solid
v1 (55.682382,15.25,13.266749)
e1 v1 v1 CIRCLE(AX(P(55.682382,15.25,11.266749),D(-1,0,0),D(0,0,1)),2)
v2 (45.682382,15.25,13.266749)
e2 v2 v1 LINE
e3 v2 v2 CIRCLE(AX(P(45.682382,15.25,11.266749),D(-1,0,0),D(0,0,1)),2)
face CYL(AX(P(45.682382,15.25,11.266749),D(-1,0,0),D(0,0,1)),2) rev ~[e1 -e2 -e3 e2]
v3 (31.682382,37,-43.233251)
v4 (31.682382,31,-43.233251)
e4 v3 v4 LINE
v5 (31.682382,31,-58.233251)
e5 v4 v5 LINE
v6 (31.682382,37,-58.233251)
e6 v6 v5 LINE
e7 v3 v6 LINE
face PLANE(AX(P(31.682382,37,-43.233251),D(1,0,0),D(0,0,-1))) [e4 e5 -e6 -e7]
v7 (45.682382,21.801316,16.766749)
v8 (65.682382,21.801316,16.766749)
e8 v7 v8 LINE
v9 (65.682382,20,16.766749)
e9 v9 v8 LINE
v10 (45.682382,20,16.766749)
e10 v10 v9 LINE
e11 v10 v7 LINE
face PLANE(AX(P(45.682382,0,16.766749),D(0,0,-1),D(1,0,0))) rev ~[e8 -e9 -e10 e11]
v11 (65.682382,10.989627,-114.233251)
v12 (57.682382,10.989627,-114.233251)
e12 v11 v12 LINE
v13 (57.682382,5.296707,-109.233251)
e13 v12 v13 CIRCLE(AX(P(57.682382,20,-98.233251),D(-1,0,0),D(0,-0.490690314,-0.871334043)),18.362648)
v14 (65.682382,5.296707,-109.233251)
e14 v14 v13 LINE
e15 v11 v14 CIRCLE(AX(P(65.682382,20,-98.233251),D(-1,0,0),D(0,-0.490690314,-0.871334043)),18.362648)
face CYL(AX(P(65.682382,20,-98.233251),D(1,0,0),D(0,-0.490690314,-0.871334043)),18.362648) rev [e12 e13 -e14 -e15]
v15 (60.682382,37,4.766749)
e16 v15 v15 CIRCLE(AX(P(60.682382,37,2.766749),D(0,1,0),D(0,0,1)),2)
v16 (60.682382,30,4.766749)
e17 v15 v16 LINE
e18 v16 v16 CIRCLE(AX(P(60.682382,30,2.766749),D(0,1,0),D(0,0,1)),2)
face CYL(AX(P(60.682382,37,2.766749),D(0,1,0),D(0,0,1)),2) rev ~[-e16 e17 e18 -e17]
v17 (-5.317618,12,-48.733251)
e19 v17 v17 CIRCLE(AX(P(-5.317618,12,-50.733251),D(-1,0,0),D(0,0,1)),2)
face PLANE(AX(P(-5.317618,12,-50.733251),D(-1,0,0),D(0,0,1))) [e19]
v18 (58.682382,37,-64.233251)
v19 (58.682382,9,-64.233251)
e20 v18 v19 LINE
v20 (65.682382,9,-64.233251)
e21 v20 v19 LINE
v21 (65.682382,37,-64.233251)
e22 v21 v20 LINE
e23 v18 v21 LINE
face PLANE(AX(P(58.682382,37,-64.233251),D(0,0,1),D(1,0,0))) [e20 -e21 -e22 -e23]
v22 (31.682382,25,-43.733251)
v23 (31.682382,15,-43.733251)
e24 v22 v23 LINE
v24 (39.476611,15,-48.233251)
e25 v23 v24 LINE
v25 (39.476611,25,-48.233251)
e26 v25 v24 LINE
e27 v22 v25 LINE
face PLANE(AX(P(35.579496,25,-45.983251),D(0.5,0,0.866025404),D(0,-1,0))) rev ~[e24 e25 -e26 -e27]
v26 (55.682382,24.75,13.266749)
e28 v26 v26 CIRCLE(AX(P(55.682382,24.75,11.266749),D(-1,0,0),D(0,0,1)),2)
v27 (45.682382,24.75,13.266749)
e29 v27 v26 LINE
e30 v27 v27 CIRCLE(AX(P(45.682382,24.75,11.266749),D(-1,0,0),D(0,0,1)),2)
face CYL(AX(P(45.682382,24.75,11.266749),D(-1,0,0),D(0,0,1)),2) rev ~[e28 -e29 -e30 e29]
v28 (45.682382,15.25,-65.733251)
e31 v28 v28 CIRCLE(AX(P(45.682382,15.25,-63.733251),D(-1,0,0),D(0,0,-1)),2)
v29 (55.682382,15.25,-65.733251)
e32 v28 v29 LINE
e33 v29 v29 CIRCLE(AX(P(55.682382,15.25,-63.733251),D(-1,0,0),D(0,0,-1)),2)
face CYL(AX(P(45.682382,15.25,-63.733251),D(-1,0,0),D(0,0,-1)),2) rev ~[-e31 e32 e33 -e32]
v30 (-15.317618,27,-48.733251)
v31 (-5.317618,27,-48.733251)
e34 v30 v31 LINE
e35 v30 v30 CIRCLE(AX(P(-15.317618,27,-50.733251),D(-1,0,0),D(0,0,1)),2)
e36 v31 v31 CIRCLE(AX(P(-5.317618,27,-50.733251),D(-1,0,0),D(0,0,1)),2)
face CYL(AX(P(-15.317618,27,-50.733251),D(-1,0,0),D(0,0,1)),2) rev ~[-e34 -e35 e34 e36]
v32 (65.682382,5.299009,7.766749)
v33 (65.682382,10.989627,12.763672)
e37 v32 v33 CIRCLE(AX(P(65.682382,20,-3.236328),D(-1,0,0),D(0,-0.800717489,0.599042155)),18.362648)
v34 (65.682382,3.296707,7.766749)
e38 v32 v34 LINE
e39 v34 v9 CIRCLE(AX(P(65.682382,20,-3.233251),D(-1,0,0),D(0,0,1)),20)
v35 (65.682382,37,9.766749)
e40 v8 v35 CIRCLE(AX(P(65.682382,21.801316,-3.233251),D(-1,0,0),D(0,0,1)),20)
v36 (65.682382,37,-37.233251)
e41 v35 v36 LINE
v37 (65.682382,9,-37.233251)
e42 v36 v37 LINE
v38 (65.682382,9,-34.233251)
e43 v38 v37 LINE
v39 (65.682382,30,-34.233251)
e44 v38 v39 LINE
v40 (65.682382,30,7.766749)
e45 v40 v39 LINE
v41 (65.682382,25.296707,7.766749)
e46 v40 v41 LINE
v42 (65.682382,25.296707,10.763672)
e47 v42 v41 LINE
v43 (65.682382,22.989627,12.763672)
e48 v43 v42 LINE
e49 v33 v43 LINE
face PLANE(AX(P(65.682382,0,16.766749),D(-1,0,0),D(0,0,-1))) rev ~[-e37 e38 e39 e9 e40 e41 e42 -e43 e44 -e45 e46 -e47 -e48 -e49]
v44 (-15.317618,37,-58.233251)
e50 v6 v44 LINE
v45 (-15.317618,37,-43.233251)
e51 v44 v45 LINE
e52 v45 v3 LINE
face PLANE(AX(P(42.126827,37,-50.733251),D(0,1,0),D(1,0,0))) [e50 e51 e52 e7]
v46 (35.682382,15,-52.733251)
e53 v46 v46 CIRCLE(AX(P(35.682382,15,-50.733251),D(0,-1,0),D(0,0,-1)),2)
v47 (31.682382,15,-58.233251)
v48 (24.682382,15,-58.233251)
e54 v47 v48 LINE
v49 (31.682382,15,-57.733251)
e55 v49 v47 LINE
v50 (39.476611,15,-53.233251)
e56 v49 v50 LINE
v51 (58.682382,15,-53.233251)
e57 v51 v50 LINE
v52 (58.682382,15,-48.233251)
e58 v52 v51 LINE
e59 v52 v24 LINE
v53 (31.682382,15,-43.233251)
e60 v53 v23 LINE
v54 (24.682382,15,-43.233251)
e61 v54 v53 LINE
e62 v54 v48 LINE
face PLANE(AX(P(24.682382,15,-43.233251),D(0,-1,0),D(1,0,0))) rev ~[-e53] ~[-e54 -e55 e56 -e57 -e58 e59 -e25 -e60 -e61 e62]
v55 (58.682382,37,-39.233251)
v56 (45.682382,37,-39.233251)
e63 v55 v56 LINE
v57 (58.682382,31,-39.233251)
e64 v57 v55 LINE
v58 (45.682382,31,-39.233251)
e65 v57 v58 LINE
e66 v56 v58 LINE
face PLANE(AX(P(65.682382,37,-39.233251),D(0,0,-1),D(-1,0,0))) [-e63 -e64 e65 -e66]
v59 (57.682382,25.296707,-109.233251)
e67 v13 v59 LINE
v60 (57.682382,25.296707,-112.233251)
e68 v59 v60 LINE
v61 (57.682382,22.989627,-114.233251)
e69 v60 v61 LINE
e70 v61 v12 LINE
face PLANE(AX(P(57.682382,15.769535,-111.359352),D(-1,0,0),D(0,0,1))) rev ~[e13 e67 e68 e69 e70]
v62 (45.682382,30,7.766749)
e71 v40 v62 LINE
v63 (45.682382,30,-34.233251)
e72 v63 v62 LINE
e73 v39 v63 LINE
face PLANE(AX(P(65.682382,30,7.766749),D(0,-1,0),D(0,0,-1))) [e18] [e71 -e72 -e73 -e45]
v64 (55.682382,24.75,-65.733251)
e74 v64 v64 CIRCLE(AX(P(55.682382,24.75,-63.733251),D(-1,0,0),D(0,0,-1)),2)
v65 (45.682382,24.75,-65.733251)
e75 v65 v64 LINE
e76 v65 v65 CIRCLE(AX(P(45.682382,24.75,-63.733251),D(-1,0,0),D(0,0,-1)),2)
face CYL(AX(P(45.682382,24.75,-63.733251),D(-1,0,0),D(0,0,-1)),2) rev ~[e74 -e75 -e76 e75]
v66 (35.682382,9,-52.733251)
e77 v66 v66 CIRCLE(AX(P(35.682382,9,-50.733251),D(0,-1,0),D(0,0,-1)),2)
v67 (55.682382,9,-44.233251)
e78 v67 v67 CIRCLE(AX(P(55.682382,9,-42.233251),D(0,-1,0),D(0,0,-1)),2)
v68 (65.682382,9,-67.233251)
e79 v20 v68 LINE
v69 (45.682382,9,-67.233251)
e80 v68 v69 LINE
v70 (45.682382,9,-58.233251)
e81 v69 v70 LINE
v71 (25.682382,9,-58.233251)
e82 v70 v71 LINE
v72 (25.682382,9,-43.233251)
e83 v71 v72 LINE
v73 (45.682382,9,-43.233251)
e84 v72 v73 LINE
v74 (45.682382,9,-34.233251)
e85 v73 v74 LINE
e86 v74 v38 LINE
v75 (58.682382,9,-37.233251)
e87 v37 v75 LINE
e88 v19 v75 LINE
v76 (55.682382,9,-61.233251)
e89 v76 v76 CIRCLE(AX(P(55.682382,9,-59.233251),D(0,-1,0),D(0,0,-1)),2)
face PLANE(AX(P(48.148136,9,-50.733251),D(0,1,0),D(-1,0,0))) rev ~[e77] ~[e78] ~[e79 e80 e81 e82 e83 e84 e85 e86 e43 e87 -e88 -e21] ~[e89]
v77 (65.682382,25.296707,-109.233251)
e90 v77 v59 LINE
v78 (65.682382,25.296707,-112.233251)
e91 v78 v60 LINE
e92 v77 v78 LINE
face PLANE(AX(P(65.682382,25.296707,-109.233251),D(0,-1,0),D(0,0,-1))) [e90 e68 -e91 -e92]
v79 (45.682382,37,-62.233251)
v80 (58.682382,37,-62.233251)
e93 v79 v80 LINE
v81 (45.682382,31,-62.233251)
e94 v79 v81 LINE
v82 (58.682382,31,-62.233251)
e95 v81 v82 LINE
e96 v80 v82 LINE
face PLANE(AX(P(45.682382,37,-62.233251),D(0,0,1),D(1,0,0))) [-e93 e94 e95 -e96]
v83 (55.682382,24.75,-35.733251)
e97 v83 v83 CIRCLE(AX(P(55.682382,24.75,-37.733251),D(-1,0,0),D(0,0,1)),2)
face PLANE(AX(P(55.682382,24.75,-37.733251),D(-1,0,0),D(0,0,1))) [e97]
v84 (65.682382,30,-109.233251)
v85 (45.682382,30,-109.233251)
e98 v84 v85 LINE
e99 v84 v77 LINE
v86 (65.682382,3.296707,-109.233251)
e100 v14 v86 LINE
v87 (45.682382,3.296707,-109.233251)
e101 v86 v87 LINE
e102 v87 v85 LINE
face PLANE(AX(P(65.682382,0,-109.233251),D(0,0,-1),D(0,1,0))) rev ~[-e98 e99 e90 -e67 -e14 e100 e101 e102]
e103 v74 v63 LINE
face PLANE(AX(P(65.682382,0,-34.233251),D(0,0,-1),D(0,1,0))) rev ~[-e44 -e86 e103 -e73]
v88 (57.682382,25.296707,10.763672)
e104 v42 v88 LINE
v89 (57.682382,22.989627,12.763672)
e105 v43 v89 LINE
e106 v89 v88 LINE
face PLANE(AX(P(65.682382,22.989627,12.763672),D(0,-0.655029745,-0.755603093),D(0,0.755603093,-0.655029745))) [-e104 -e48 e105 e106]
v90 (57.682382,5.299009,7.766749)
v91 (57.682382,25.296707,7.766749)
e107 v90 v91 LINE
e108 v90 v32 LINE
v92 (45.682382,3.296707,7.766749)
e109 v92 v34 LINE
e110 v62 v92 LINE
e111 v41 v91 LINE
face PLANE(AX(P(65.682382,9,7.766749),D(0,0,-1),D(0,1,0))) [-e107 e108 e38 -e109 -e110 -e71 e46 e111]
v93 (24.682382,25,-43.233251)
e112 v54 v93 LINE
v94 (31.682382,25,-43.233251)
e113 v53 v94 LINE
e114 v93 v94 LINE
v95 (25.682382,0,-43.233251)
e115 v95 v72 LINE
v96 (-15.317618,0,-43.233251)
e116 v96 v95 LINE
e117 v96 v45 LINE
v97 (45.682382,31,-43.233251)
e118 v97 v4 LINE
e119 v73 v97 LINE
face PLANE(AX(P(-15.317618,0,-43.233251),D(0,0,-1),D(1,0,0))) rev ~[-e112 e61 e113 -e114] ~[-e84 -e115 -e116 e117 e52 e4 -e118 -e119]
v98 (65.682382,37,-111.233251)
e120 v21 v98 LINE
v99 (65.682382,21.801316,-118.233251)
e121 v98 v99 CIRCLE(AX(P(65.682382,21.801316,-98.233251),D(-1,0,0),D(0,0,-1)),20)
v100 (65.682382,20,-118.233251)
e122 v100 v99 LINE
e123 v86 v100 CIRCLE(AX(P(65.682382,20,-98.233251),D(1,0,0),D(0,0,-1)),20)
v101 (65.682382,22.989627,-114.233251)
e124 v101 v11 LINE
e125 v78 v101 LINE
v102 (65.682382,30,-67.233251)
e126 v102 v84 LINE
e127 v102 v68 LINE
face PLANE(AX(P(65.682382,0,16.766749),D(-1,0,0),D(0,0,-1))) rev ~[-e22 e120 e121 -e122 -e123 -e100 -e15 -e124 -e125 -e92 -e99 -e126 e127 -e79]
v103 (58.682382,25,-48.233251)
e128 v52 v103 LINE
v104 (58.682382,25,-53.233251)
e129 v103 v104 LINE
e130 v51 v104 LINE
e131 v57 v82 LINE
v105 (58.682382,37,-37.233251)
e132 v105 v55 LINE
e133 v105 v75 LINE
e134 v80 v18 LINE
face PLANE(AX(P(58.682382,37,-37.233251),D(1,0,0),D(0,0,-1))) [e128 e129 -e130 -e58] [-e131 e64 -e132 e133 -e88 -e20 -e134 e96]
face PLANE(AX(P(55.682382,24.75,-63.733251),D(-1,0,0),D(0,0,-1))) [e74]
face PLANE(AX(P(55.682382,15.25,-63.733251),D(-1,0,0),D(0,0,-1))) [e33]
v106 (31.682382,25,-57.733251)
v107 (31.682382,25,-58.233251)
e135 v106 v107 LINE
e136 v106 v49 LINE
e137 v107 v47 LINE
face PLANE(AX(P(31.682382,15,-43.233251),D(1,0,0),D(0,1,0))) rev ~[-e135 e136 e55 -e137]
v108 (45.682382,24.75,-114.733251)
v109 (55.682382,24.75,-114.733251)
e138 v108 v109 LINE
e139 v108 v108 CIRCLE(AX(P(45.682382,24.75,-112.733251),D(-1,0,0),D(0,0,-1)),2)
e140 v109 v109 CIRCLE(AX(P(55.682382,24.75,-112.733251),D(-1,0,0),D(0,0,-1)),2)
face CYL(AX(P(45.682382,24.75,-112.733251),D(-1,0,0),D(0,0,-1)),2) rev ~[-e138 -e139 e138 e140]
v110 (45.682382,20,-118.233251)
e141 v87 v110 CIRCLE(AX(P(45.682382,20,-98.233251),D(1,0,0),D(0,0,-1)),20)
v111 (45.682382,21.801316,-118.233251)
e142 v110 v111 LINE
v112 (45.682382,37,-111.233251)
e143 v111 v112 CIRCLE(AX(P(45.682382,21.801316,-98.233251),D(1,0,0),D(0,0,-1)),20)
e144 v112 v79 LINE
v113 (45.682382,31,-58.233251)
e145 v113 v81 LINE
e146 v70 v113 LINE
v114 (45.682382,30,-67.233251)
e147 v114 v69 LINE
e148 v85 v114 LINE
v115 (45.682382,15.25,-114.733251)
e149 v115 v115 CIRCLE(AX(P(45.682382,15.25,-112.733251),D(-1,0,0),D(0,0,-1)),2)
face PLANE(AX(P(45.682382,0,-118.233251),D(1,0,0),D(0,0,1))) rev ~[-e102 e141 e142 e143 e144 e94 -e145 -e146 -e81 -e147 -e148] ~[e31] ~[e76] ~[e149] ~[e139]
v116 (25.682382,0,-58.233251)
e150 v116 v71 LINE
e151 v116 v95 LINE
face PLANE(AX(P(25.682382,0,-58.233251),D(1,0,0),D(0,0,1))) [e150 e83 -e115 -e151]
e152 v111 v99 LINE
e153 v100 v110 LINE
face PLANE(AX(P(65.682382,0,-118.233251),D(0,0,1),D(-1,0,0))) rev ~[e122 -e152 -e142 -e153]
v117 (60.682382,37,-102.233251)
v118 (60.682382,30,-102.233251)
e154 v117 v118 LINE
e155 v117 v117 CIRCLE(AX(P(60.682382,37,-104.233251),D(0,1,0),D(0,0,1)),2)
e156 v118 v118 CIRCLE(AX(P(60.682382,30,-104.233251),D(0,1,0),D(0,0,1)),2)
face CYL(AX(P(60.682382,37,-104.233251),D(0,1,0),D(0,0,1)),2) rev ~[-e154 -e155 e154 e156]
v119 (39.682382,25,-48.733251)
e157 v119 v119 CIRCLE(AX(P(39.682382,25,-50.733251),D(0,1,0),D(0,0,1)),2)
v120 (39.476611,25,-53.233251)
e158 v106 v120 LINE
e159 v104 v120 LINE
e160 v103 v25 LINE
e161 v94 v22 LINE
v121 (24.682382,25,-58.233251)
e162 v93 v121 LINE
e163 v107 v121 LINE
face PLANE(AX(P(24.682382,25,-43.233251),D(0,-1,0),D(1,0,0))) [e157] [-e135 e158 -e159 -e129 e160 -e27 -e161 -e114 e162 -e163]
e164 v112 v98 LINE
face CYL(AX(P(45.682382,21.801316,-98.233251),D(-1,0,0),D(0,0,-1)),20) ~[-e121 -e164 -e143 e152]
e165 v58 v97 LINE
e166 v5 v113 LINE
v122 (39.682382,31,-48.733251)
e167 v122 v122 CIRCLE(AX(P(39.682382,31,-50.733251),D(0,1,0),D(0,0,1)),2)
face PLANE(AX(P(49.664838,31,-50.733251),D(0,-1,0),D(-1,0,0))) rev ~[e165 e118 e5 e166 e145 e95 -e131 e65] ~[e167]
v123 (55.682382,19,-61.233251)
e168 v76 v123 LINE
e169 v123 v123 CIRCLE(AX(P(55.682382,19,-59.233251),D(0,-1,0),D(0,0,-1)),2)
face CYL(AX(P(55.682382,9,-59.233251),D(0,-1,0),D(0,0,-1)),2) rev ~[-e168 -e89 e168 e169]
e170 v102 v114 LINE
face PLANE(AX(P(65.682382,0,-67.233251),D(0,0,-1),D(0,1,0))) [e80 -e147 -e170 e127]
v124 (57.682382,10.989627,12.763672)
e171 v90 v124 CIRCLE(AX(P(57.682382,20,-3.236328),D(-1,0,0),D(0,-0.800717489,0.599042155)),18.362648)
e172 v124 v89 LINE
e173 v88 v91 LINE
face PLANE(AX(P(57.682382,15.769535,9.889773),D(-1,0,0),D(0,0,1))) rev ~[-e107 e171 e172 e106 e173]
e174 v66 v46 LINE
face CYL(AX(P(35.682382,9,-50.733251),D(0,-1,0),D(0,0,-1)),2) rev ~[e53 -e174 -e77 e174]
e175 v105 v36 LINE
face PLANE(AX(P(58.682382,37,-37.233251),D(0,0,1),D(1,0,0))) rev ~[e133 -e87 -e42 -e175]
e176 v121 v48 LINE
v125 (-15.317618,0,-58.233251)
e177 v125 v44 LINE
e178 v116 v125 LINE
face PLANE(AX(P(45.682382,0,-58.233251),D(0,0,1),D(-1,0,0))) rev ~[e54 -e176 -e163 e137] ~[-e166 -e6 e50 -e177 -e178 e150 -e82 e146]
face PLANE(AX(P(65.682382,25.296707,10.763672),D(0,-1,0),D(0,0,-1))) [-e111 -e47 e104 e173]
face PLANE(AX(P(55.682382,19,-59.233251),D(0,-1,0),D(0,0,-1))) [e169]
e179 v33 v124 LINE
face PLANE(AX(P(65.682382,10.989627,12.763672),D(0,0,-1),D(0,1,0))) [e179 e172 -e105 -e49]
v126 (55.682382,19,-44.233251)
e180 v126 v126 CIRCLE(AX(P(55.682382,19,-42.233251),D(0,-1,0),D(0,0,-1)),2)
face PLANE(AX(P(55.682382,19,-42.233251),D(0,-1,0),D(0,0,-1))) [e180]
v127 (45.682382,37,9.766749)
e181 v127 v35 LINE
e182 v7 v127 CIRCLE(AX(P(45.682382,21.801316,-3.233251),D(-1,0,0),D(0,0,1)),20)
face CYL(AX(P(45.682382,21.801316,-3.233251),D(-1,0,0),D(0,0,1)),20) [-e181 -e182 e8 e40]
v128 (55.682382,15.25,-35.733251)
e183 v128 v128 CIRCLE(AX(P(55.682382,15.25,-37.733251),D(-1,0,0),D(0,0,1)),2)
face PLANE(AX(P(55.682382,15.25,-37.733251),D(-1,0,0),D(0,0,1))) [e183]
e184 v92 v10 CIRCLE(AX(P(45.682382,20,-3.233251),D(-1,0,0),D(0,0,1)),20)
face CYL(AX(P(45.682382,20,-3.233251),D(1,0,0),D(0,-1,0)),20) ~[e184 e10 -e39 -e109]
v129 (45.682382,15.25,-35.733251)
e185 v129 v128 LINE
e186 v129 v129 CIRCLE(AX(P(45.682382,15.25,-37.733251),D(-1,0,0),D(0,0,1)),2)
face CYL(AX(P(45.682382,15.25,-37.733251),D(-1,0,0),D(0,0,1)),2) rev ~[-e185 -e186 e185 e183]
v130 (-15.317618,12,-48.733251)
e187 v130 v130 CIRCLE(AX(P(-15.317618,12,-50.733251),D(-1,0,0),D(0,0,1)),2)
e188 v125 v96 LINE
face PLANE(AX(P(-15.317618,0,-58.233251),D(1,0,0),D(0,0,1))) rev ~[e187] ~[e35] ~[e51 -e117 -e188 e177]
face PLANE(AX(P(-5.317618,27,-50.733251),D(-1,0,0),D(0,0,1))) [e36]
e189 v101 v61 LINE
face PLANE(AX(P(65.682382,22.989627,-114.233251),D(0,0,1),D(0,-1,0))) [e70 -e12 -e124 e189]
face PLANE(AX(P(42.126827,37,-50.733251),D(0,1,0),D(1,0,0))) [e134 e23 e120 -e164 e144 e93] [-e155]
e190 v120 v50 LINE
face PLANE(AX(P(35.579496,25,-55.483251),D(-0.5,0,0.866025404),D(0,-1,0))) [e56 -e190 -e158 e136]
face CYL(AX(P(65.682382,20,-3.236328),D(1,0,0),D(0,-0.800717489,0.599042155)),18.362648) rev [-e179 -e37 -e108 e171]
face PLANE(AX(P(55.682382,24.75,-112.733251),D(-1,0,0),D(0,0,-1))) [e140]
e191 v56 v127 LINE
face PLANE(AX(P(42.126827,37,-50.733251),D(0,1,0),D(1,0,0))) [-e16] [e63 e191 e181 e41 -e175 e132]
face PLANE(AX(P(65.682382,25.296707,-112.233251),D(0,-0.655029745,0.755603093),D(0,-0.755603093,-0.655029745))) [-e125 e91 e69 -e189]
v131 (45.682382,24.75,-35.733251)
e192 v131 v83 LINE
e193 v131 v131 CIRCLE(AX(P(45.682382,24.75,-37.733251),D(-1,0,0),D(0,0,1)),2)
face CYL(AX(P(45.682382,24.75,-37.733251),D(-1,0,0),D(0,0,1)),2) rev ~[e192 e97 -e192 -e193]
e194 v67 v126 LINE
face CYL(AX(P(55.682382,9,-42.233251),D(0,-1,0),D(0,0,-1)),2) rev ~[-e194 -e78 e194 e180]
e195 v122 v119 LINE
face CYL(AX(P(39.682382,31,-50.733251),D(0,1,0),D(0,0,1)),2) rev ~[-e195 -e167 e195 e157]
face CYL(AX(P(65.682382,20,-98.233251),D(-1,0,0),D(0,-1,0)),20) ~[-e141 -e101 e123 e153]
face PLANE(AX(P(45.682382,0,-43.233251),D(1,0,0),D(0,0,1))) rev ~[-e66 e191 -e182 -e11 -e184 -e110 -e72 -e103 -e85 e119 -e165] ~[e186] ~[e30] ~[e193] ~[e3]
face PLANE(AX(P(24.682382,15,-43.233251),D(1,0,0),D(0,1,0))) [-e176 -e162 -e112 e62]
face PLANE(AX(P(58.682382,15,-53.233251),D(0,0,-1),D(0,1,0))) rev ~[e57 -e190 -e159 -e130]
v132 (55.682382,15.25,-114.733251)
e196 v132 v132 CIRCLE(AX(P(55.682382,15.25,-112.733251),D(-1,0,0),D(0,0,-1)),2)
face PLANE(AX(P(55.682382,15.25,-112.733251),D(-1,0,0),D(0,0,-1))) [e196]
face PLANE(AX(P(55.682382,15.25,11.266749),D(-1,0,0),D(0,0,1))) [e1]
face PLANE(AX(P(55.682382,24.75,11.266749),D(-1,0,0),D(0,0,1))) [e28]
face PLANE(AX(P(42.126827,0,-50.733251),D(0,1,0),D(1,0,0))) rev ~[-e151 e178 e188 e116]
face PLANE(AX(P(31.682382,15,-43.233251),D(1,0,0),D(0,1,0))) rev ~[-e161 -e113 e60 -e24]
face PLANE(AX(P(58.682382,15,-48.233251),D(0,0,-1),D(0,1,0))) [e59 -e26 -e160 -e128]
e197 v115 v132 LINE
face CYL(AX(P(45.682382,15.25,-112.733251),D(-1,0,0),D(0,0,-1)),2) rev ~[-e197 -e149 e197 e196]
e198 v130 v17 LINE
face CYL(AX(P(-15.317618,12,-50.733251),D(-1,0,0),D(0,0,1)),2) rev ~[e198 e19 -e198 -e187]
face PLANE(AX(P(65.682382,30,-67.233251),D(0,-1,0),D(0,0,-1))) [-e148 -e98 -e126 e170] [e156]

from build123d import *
from OCP.BRepFilletAPI import BRepFilletAPI_MakeChamfer

# Parameters (mm, degrees)
BOSS_EXTRUDE1_DEPTH = 37
CUT_EXTRUDE1_REACH  = 150.017
SKETCH2_W           = 42
SKETCH2_H           = 21
SKETCH3_R           = 2
CUT_EXTRUDE2_DEPTH  = 10
FILLET1_R           = 20
CUT_EXTRUDE5_REACH  = 150.017
SKETCH6_W           = 42
SKETCH6_H           = 9
SKETCH7_R           = 2
CUT_EXTRUDE6_DEPTH  = 10
CUT_EXTRUDE7_DEPTH  = 9
SKETCH9_R           = 2
CUT_EXTRUDE8_DEPTH  = 10
CUT_EXTRUDE9_DEPTH  = 6
SKETCH11_R          = 2
CUT_EXTRUDE10_DEPTH = 9
SKETCH12_R          = 2
CUT_EXTRUDE11_DEPTH = 10
CUT_EXTRUDE12_REACH = 140.091
CUT_EXTRUDE16_REACH = 142.222
SKETCH14_W          = 7
SKETCH14_H          = 27
CUT_EXTRUDE17_REACH = 108.34
SKETCH16_W          = 7
SKETCH16_H          = 10
CUT_EXTRUDE18_REACH = 146.306
SKETCH15_W          = 5
SKETCH15_H          = 10
CHAMFER1_SIZE       = 4.5
CHAMFER1_SIZE2      = 7.794228634
CUT_EXTRUDE19_DEPTH = 8


with BuildPart() as part:
    # Sketch1 → Boss-Extrude1 (new body)
    with BuildSketch(Plane(origin=(0, 0, 0), x_dir=(1, 0, 0), z_dir=(0, 1, 0))):
        Polygon((-15.317617866, 43.23325062), (45.682382134, 43.23325062), (45.682382134, -16.76674938), (65.682382134, -16.76674938), (65.682382134, 118.23325062), (45.682382134, 118.23325062), (45.682382134, 58.23325062), (-15.317617866, 58.23325062), align=None)
    extrude(amount=BOSS_EXTRUDE1_DEPTH)

    # Sketch2 → Cut-Extrude1 (cut, up to next)
    with BuildSketch(Plane(origin=(65.682382134, 0, 0), x_dir=(0, 0, -1), z_dir=(1, 0, 0)), mode=Mode.PRIVATE) as cut_extrude1_sk1:
        with Locations((13.23325062, 19.5)):
            Rectangle(SKETCH2_W, SKETCH2_H)
    cut_extrude1_tool1 = extrude(cut_extrude1_sk1.sketch, amount=-CUT_EXTRUDE1_REACH, mode=Mode.PRIVATE) & part.part
    # Sketch2 → Cut-Extrude1 (cut, up to next)
    with BuildSketch(Plane(origin=(65.682382134, 0, 0), x_dir=(0, 0, -1), z_dir=(1, 0, 0)), mode=Mode.PRIVATE) as cut_extrude1_sk2:
        with Locations((88.23325062, 19.5)):
            Rectangle(SKETCH2_W, SKETCH2_H)
    cut_extrude1_tool2 = extrude(cut_extrude1_sk2.sketch, amount=-CUT_EXTRUDE1_REACH, mode=Mode.PRIVATE) & part.part
    add(cut_extrude1_tool1.solids().sort_by_distance((65.682382, 19.5, -13.233251))[0], mode=Mode.SUBTRACT)
    add(cut_extrude1_tool2.solids().sort_by_distance((65.682382, 19.5, -88.233251))[0], mode=Mode.SUBTRACT)

    # Sketch3 → Cut-Extrude2 (cut)
    with BuildSketch(Plane.ZY.offset(-45.682382134)):
        with Locations((11.26674938, 24.75)):
            Circle(SKETCH3_R)
        with Locations((11.26674938, 15.25)):
            Circle(SKETCH3_R)
        with Locations((-37.73325062, 24.75)):
            Circle(SKETCH3_R)
        with Locations((-37.73325062, 15.25)):
            Circle(SKETCH3_R)
        with Locations(Location((-112.73325062, 24.75, 0), (0, 0, 180))):
            Circle(SKETCH3_R)
        with Locations(Location((-112.73325062, 15.25, 0), (0, 0, 180))):
            Circle(SKETCH3_R)
        with Locations(Location((-63.73325062, 15.25, 0), (0, 0, 180))):
            Circle(SKETCH3_R)
        with Locations(Location((-63.73325062, 24.75, 0), (0, 0, 180))):
            Circle(SKETCH3_R)
    extrude(amount=-CUT_EXTRUDE2_DEPTH, mode=Mode.SUBTRACT)

    # Fillet1
    fillet1_edges = [part.edges().sort_by_distance(p)[0] for p in [
        (55.682382134, 0, -118.23325062),
        (55.682382134, 0, 16.76674938),
    ]]
    fillet(fillet1_edges, radius=FILLET1_R)

    # Sketch6 → Cut-Extrude5 (cut, up to next)
    with BuildSketch(Plane(origin=(65.682382134, 0, 0), x_dir=(0, 0, -1), z_dir=(1, 0, 0)), mode=Mode.PRIVATE) as cut_extrude5_sk1:
        with Locations((13.23325062, 4.5)):
            Rectangle(SKETCH6_W, SKETCH6_H)
    cut_extrude5_tool1 = extrude(cut_extrude5_sk1.sketch, amount=-CUT_EXTRUDE5_REACH, mode=Mode.PRIVATE) & part.part
    # Sketch6 → Cut-Extrude5 (cut, up to next)
    with BuildSketch(Plane(origin=(65.682382134, 0, 0), x_dir=(0, 0, -1), z_dir=(1, 0, 0)), mode=Mode.PRIVATE) as cut_extrude5_sk2:
        with Locations((88.23325062, 4.5)):
            Rectangle(SKETCH6_W, SKETCH6_H)
    cut_extrude5_tool2 = extrude(cut_extrude5_sk2.sketch, amount=-CUT_EXTRUDE5_REACH, mode=Mode.PRIVATE) & part.part
    add(cut_extrude5_tool1.solids().sort_by_distance((65.682382, 4.5, -13.233251))[0], mode=Mode.SUBTRACT)
    add(cut_extrude5_tool2.solids().sort_by_distance((65.682382, 4.5, -88.233251))[0], mode=Mode.SUBTRACT)

    # Sketch7 → Cut-Extrude6 (cut)
    with BuildSketch(Plane.ZY.offset(15.317617866)):
        with Locations((-50.73325062, 27)):
            Circle(SKETCH7_R)
        with Locations((-50.73325062, 12)):
            Circle(SKETCH7_R)
    extrude(amount=-CUT_EXTRUDE6_DEPTH, mode=Mode.SUBTRACT)

    # Sketch8 → Cut-Extrude7 (cut)
    with BuildSketch(Plane.XZ):
        Polygon((45.682382134, -67.23325062), (45.682382134, -58.23325062), (25.682382134, -58.23325062), (25.682382134, -43.23325062), (45.682382134, -43.23325062), (45.682382134, -34.23325062), (65.682382134, -34.23325062), (65.682382134, -67.23325062), align=None)
    extrude(amount=-CUT_EXTRUDE7_DEPTH, mode=Mode.SUBTRACT)

    # Sketch9 → Cut-Extrude8 (cut)
    with BuildSketch(Plane.XZ.offset(-9)):
        with Locations(Location((55.682382134, -42.23325062, 0), (0, 0, 270))):
            Circle(SKETCH9_R)
        with Locations(Location((55.682382134, -59.23325062, 0), (0, 0, 270))):
            Circle(SKETCH9_R)
        with Locations(Location((35.682382134, -50.73325062, 0), (0, 0, 270))):
            Circle(SKETCH9_R)
    extrude(amount=-CUT_EXTRUDE8_DEPTH, mode=Mode.SUBTRACT)

    # Sketch10 → Cut-Extrude9 (cut)
    with BuildSketch(Plane(origin=(0, 37, 0), x_dir=(1, 0, 0), z_dir=(0, 1, 0))):
        Polygon((45.682382134, 62.23325062), (65.682382134, 62.23325062), (65.682382134, 39.23325062), (45.682382134, 39.23325062), (45.682382134, 43.23325062), (31.682382134, 43.23325062), (31.682382134, 58.23325062), (45.682382134, 58.23325062), align=None)
    extrude(amount=-CUT_EXTRUDE9_DEPTH, mode=Mode.SUBTRACT)

    # Sketch11 → Cut-Extrude10 (cut)
    with BuildSketch(Plane(origin=(0, 31, 0), x_dir=(1, 0, 0), z_dir=(0, 1, 0))):
        with Locations(Location((39.682382134, 50.73325062, 0), (0, 0, 270))):
            Circle(SKETCH11_R)
    extrude(amount=-CUT_EXTRUDE10_DEPTH, mode=Mode.SUBTRACT)

    # Sketch12 → Cut-Extrude11 (cut)
    with BuildSketch(Plane(origin=(0, 37, 0), x_dir=(1, 0, 0), z_dir=(0, 1, 0))):
        with Locations(Location((60.682382134, -2.76674938, 0), (0, 0, 270))):
            Circle(SKETCH12_R)
        with Locations(Location((60.682382134, 104.23325062, 0), (0, 0, 270))):
            Circle(SKETCH12_R)
    extrude(amount=-CUT_EXTRUDE11_DEPTH, mode=Mode.SUBTRACT)

    # Sketch13 → Cut-Extrude12 (cut, up to next)
    with BuildSketch(Plane.ZY.offset(-45.682382134), mode=Mode.PRIVATE) as cut_extrude12_sk1:
        with BuildLine():
            Line((-111.23325062, 37), (-118.23325062, 37))
            Line((-118.23325062, 37), (-118.23325062, 21.801315846))
            ThreePointArc((-118.23325062, 21.801315846), (-116.399152745, 30.167916112), (-111.23325062, 37))
        make_face()
    cut_extrude12_tool1 = extrude(cut_extrude12_sk1.sketch, amount=-CUT_EXTRUDE12_REACH, mode=Mode.PRIVATE) & part.part
    # Sketch13 → Cut-Extrude12 (cut, up to next)
    with BuildSketch(Plane.ZY.offset(-45.682382134), mode=Mode.PRIVATE) as cut_extrude12_sk2:
        with BuildLine():
            Line((9.76674938, 37), (16.76674938, 37))
            Line((16.76674938, 37), (16.76674938, 21.801315846))
            ThreePointArc((16.76674938, 21.801315846), (14.932651504, 30.167916112), (9.76674938, 37))
        make_face()
    cut_extrude12_tool2 = extrude(cut_extrude12_sk2.sketch, amount=-CUT_EXTRUDE12_REACH, mode=Mode.PRIVATE) & part.part
    add(cut_extrude12_tool1.solids().sort_by_distance((45.682382, 33.346132, -116.215792))[0], mode=Mode.SUBTRACT)
    add(cut_extrude12_tool2.solids().sort_by_distance((45.682382, 33.346132, 14.749291))[0], mode=Mode.SUBTRACT)

    # Sketch14 → Cut-Extrude16 (cut, up to next)
    with BuildSketch(Plane(origin=(0, 37, 0), x_dir=(1, 0, 0), z_dir=(0, 1, 0)), mode=Mode.PRIVATE) as cut_extrude16_sk1:
        with Locations((62.182382134, 50.73325062)):
            Rectangle(SKETCH14_W, SKETCH14_H)
    cut_extrude16_tool1 = extrude(cut_extrude16_sk1.sketch, amount=-CUT_EXTRUDE16_REACH, mode=Mode.PRIVATE) & part.part
    add(cut_extrude16_tool1.solids().sort_by_distance((62.182382, 37, -50.733251))[0], mode=Mode.SUBTRACT)

    # Sketch16 → Cut-Extrude17 (cut, up to next)
    with BuildSketch(Plane.XY.offset(-43.23325062), mode=Mode.PRIVATE) as cut_extrude17_sk1:
        with Locations((28.182382134, 20)):
            Rectangle(SKETCH16_W, SKETCH16_H)
    cut_extrude17_tool1 = extrude(cut_extrude17_sk1.sketch, amount=-CUT_EXTRUDE17_REACH, mode=Mode.PRIVATE) & part.part
    add(cut_extrude17_tool1.solids().sort_by_distance((28.182382, 20, -43.233251))[0], mode=Mode.SUBTRACT)

    # Sketch15 → Cut-Extrude18 (cut, up to next)
    with BuildSketch(Plane(origin=(58.682382134, 0, 0), x_dir=(0, 0, -1), z_dir=(1, 0, 0)), mode=Mode.PRIVATE) as cut_extrude18_sk1:
        with Locations((50.73325062, 20)):
            Rectangle(SKETCH15_W, SKETCH15_H)
    cut_extrude18_tool1 = extrude(cut_extrude18_sk1.sketch, amount=-CUT_EXTRUDE18_REACH, mode=Mode.PRIVATE) & part.part
    add(cut_extrude18_tool1.solids().sort_by_distance((58.682382, 20, -50.733251))[0], mode=Mode.SUBTRACT)

    # Chamfer1: one chamfer whose edges measure the first distance from different faces: ONE call of the kernel's chamfer builder (chamfer() names one face for all edges)
    chamfer1_edges_1 = [part.edges().sort_by_distance(p)[0] for p in [
        (31.682382134, 20, -53.23325062),
    ]]
    chamfer1_side_1 = [part.faces().sort_by_distance(p)[0] for p in [
        (31.682382134, 20, -55.73325062),
    ]]
    chamfer1_edges_2 = [part.edges().sort_by_distance(p)[0] for p in [
        (31.682382134, 20, -48.23325062),
    ]]
    chamfer1_side_2 = [part.faces().sort_by_distance(p)[0] for p in [
        (31.682382134, 20, -45.73325062),
    ]]
    chamfer1 = BRepFilletAPI_MakeChamfer(part.part.solid().wrapped)
    for e in chamfer1_edges_1:
        chamfer1.Add(CHAMFER1_SIZE, CHAMFER1_SIZE2, e.wrapped, chamfer1_side_1[0].wrapped)  # the first distance lies on this face
    for e in chamfer1_edges_2:
        chamfer1.Add(CHAMFER1_SIZE, CHAMFER1_SIZE2, e.wrapped, chamfer1_side_2[0].wrapped)  # the first distance lies on this face
    add(Compound.cast(chamfer1.Shape()), mode=Mode.REPLACE)

    # Sketch18 → Cut-Extrude19 (cut)
    with BuildSketch(Plane(origin=(65.682382134, 0, 0), x_dir=(0, 0, -1), z_dir=(1, 0, 0))):
        with BuildLine():
            Line((109.23325062, 25.296706912), (112.23325062, 25.296706912))
            Line((112.23325062, 25.296706912), (114.23325062, 22.989626664))
            Line((114.23325062, 22.989626664), (114.23325062, 10.989626664))
            ThreePointArc((114.23325062, 10.989626664), (112.030073944, 7.882471629), (109.23325062, 5.296706912))
            Line((109.23325062, 5.296706912), (109.23325062, 25.296706912))
        make_face()
        with BuildLine():
            Line((-7.763672274, 25.296706912), (-7.763672274, 5.296706912))
            ThreePointArc((-7.763672274, 5.296706912), (-10.560495598, 7.882471629), (-12.763672274, 10.989626664))
            Line((-12.763672274, 10.989626664), (-12.763672274, 22.989626664))
            Line((-12.763672274, 22.989626664), (-10.763672274, 25.296706912))
            Line((-10.763672274, 25.296706912), (-7.763672274, 25.296706912))
        make_face()
    extrude(amount=-CUT_EXTRUDE19_DEPTH, mode=Mode.SUBTRACT)


solid = part.part
